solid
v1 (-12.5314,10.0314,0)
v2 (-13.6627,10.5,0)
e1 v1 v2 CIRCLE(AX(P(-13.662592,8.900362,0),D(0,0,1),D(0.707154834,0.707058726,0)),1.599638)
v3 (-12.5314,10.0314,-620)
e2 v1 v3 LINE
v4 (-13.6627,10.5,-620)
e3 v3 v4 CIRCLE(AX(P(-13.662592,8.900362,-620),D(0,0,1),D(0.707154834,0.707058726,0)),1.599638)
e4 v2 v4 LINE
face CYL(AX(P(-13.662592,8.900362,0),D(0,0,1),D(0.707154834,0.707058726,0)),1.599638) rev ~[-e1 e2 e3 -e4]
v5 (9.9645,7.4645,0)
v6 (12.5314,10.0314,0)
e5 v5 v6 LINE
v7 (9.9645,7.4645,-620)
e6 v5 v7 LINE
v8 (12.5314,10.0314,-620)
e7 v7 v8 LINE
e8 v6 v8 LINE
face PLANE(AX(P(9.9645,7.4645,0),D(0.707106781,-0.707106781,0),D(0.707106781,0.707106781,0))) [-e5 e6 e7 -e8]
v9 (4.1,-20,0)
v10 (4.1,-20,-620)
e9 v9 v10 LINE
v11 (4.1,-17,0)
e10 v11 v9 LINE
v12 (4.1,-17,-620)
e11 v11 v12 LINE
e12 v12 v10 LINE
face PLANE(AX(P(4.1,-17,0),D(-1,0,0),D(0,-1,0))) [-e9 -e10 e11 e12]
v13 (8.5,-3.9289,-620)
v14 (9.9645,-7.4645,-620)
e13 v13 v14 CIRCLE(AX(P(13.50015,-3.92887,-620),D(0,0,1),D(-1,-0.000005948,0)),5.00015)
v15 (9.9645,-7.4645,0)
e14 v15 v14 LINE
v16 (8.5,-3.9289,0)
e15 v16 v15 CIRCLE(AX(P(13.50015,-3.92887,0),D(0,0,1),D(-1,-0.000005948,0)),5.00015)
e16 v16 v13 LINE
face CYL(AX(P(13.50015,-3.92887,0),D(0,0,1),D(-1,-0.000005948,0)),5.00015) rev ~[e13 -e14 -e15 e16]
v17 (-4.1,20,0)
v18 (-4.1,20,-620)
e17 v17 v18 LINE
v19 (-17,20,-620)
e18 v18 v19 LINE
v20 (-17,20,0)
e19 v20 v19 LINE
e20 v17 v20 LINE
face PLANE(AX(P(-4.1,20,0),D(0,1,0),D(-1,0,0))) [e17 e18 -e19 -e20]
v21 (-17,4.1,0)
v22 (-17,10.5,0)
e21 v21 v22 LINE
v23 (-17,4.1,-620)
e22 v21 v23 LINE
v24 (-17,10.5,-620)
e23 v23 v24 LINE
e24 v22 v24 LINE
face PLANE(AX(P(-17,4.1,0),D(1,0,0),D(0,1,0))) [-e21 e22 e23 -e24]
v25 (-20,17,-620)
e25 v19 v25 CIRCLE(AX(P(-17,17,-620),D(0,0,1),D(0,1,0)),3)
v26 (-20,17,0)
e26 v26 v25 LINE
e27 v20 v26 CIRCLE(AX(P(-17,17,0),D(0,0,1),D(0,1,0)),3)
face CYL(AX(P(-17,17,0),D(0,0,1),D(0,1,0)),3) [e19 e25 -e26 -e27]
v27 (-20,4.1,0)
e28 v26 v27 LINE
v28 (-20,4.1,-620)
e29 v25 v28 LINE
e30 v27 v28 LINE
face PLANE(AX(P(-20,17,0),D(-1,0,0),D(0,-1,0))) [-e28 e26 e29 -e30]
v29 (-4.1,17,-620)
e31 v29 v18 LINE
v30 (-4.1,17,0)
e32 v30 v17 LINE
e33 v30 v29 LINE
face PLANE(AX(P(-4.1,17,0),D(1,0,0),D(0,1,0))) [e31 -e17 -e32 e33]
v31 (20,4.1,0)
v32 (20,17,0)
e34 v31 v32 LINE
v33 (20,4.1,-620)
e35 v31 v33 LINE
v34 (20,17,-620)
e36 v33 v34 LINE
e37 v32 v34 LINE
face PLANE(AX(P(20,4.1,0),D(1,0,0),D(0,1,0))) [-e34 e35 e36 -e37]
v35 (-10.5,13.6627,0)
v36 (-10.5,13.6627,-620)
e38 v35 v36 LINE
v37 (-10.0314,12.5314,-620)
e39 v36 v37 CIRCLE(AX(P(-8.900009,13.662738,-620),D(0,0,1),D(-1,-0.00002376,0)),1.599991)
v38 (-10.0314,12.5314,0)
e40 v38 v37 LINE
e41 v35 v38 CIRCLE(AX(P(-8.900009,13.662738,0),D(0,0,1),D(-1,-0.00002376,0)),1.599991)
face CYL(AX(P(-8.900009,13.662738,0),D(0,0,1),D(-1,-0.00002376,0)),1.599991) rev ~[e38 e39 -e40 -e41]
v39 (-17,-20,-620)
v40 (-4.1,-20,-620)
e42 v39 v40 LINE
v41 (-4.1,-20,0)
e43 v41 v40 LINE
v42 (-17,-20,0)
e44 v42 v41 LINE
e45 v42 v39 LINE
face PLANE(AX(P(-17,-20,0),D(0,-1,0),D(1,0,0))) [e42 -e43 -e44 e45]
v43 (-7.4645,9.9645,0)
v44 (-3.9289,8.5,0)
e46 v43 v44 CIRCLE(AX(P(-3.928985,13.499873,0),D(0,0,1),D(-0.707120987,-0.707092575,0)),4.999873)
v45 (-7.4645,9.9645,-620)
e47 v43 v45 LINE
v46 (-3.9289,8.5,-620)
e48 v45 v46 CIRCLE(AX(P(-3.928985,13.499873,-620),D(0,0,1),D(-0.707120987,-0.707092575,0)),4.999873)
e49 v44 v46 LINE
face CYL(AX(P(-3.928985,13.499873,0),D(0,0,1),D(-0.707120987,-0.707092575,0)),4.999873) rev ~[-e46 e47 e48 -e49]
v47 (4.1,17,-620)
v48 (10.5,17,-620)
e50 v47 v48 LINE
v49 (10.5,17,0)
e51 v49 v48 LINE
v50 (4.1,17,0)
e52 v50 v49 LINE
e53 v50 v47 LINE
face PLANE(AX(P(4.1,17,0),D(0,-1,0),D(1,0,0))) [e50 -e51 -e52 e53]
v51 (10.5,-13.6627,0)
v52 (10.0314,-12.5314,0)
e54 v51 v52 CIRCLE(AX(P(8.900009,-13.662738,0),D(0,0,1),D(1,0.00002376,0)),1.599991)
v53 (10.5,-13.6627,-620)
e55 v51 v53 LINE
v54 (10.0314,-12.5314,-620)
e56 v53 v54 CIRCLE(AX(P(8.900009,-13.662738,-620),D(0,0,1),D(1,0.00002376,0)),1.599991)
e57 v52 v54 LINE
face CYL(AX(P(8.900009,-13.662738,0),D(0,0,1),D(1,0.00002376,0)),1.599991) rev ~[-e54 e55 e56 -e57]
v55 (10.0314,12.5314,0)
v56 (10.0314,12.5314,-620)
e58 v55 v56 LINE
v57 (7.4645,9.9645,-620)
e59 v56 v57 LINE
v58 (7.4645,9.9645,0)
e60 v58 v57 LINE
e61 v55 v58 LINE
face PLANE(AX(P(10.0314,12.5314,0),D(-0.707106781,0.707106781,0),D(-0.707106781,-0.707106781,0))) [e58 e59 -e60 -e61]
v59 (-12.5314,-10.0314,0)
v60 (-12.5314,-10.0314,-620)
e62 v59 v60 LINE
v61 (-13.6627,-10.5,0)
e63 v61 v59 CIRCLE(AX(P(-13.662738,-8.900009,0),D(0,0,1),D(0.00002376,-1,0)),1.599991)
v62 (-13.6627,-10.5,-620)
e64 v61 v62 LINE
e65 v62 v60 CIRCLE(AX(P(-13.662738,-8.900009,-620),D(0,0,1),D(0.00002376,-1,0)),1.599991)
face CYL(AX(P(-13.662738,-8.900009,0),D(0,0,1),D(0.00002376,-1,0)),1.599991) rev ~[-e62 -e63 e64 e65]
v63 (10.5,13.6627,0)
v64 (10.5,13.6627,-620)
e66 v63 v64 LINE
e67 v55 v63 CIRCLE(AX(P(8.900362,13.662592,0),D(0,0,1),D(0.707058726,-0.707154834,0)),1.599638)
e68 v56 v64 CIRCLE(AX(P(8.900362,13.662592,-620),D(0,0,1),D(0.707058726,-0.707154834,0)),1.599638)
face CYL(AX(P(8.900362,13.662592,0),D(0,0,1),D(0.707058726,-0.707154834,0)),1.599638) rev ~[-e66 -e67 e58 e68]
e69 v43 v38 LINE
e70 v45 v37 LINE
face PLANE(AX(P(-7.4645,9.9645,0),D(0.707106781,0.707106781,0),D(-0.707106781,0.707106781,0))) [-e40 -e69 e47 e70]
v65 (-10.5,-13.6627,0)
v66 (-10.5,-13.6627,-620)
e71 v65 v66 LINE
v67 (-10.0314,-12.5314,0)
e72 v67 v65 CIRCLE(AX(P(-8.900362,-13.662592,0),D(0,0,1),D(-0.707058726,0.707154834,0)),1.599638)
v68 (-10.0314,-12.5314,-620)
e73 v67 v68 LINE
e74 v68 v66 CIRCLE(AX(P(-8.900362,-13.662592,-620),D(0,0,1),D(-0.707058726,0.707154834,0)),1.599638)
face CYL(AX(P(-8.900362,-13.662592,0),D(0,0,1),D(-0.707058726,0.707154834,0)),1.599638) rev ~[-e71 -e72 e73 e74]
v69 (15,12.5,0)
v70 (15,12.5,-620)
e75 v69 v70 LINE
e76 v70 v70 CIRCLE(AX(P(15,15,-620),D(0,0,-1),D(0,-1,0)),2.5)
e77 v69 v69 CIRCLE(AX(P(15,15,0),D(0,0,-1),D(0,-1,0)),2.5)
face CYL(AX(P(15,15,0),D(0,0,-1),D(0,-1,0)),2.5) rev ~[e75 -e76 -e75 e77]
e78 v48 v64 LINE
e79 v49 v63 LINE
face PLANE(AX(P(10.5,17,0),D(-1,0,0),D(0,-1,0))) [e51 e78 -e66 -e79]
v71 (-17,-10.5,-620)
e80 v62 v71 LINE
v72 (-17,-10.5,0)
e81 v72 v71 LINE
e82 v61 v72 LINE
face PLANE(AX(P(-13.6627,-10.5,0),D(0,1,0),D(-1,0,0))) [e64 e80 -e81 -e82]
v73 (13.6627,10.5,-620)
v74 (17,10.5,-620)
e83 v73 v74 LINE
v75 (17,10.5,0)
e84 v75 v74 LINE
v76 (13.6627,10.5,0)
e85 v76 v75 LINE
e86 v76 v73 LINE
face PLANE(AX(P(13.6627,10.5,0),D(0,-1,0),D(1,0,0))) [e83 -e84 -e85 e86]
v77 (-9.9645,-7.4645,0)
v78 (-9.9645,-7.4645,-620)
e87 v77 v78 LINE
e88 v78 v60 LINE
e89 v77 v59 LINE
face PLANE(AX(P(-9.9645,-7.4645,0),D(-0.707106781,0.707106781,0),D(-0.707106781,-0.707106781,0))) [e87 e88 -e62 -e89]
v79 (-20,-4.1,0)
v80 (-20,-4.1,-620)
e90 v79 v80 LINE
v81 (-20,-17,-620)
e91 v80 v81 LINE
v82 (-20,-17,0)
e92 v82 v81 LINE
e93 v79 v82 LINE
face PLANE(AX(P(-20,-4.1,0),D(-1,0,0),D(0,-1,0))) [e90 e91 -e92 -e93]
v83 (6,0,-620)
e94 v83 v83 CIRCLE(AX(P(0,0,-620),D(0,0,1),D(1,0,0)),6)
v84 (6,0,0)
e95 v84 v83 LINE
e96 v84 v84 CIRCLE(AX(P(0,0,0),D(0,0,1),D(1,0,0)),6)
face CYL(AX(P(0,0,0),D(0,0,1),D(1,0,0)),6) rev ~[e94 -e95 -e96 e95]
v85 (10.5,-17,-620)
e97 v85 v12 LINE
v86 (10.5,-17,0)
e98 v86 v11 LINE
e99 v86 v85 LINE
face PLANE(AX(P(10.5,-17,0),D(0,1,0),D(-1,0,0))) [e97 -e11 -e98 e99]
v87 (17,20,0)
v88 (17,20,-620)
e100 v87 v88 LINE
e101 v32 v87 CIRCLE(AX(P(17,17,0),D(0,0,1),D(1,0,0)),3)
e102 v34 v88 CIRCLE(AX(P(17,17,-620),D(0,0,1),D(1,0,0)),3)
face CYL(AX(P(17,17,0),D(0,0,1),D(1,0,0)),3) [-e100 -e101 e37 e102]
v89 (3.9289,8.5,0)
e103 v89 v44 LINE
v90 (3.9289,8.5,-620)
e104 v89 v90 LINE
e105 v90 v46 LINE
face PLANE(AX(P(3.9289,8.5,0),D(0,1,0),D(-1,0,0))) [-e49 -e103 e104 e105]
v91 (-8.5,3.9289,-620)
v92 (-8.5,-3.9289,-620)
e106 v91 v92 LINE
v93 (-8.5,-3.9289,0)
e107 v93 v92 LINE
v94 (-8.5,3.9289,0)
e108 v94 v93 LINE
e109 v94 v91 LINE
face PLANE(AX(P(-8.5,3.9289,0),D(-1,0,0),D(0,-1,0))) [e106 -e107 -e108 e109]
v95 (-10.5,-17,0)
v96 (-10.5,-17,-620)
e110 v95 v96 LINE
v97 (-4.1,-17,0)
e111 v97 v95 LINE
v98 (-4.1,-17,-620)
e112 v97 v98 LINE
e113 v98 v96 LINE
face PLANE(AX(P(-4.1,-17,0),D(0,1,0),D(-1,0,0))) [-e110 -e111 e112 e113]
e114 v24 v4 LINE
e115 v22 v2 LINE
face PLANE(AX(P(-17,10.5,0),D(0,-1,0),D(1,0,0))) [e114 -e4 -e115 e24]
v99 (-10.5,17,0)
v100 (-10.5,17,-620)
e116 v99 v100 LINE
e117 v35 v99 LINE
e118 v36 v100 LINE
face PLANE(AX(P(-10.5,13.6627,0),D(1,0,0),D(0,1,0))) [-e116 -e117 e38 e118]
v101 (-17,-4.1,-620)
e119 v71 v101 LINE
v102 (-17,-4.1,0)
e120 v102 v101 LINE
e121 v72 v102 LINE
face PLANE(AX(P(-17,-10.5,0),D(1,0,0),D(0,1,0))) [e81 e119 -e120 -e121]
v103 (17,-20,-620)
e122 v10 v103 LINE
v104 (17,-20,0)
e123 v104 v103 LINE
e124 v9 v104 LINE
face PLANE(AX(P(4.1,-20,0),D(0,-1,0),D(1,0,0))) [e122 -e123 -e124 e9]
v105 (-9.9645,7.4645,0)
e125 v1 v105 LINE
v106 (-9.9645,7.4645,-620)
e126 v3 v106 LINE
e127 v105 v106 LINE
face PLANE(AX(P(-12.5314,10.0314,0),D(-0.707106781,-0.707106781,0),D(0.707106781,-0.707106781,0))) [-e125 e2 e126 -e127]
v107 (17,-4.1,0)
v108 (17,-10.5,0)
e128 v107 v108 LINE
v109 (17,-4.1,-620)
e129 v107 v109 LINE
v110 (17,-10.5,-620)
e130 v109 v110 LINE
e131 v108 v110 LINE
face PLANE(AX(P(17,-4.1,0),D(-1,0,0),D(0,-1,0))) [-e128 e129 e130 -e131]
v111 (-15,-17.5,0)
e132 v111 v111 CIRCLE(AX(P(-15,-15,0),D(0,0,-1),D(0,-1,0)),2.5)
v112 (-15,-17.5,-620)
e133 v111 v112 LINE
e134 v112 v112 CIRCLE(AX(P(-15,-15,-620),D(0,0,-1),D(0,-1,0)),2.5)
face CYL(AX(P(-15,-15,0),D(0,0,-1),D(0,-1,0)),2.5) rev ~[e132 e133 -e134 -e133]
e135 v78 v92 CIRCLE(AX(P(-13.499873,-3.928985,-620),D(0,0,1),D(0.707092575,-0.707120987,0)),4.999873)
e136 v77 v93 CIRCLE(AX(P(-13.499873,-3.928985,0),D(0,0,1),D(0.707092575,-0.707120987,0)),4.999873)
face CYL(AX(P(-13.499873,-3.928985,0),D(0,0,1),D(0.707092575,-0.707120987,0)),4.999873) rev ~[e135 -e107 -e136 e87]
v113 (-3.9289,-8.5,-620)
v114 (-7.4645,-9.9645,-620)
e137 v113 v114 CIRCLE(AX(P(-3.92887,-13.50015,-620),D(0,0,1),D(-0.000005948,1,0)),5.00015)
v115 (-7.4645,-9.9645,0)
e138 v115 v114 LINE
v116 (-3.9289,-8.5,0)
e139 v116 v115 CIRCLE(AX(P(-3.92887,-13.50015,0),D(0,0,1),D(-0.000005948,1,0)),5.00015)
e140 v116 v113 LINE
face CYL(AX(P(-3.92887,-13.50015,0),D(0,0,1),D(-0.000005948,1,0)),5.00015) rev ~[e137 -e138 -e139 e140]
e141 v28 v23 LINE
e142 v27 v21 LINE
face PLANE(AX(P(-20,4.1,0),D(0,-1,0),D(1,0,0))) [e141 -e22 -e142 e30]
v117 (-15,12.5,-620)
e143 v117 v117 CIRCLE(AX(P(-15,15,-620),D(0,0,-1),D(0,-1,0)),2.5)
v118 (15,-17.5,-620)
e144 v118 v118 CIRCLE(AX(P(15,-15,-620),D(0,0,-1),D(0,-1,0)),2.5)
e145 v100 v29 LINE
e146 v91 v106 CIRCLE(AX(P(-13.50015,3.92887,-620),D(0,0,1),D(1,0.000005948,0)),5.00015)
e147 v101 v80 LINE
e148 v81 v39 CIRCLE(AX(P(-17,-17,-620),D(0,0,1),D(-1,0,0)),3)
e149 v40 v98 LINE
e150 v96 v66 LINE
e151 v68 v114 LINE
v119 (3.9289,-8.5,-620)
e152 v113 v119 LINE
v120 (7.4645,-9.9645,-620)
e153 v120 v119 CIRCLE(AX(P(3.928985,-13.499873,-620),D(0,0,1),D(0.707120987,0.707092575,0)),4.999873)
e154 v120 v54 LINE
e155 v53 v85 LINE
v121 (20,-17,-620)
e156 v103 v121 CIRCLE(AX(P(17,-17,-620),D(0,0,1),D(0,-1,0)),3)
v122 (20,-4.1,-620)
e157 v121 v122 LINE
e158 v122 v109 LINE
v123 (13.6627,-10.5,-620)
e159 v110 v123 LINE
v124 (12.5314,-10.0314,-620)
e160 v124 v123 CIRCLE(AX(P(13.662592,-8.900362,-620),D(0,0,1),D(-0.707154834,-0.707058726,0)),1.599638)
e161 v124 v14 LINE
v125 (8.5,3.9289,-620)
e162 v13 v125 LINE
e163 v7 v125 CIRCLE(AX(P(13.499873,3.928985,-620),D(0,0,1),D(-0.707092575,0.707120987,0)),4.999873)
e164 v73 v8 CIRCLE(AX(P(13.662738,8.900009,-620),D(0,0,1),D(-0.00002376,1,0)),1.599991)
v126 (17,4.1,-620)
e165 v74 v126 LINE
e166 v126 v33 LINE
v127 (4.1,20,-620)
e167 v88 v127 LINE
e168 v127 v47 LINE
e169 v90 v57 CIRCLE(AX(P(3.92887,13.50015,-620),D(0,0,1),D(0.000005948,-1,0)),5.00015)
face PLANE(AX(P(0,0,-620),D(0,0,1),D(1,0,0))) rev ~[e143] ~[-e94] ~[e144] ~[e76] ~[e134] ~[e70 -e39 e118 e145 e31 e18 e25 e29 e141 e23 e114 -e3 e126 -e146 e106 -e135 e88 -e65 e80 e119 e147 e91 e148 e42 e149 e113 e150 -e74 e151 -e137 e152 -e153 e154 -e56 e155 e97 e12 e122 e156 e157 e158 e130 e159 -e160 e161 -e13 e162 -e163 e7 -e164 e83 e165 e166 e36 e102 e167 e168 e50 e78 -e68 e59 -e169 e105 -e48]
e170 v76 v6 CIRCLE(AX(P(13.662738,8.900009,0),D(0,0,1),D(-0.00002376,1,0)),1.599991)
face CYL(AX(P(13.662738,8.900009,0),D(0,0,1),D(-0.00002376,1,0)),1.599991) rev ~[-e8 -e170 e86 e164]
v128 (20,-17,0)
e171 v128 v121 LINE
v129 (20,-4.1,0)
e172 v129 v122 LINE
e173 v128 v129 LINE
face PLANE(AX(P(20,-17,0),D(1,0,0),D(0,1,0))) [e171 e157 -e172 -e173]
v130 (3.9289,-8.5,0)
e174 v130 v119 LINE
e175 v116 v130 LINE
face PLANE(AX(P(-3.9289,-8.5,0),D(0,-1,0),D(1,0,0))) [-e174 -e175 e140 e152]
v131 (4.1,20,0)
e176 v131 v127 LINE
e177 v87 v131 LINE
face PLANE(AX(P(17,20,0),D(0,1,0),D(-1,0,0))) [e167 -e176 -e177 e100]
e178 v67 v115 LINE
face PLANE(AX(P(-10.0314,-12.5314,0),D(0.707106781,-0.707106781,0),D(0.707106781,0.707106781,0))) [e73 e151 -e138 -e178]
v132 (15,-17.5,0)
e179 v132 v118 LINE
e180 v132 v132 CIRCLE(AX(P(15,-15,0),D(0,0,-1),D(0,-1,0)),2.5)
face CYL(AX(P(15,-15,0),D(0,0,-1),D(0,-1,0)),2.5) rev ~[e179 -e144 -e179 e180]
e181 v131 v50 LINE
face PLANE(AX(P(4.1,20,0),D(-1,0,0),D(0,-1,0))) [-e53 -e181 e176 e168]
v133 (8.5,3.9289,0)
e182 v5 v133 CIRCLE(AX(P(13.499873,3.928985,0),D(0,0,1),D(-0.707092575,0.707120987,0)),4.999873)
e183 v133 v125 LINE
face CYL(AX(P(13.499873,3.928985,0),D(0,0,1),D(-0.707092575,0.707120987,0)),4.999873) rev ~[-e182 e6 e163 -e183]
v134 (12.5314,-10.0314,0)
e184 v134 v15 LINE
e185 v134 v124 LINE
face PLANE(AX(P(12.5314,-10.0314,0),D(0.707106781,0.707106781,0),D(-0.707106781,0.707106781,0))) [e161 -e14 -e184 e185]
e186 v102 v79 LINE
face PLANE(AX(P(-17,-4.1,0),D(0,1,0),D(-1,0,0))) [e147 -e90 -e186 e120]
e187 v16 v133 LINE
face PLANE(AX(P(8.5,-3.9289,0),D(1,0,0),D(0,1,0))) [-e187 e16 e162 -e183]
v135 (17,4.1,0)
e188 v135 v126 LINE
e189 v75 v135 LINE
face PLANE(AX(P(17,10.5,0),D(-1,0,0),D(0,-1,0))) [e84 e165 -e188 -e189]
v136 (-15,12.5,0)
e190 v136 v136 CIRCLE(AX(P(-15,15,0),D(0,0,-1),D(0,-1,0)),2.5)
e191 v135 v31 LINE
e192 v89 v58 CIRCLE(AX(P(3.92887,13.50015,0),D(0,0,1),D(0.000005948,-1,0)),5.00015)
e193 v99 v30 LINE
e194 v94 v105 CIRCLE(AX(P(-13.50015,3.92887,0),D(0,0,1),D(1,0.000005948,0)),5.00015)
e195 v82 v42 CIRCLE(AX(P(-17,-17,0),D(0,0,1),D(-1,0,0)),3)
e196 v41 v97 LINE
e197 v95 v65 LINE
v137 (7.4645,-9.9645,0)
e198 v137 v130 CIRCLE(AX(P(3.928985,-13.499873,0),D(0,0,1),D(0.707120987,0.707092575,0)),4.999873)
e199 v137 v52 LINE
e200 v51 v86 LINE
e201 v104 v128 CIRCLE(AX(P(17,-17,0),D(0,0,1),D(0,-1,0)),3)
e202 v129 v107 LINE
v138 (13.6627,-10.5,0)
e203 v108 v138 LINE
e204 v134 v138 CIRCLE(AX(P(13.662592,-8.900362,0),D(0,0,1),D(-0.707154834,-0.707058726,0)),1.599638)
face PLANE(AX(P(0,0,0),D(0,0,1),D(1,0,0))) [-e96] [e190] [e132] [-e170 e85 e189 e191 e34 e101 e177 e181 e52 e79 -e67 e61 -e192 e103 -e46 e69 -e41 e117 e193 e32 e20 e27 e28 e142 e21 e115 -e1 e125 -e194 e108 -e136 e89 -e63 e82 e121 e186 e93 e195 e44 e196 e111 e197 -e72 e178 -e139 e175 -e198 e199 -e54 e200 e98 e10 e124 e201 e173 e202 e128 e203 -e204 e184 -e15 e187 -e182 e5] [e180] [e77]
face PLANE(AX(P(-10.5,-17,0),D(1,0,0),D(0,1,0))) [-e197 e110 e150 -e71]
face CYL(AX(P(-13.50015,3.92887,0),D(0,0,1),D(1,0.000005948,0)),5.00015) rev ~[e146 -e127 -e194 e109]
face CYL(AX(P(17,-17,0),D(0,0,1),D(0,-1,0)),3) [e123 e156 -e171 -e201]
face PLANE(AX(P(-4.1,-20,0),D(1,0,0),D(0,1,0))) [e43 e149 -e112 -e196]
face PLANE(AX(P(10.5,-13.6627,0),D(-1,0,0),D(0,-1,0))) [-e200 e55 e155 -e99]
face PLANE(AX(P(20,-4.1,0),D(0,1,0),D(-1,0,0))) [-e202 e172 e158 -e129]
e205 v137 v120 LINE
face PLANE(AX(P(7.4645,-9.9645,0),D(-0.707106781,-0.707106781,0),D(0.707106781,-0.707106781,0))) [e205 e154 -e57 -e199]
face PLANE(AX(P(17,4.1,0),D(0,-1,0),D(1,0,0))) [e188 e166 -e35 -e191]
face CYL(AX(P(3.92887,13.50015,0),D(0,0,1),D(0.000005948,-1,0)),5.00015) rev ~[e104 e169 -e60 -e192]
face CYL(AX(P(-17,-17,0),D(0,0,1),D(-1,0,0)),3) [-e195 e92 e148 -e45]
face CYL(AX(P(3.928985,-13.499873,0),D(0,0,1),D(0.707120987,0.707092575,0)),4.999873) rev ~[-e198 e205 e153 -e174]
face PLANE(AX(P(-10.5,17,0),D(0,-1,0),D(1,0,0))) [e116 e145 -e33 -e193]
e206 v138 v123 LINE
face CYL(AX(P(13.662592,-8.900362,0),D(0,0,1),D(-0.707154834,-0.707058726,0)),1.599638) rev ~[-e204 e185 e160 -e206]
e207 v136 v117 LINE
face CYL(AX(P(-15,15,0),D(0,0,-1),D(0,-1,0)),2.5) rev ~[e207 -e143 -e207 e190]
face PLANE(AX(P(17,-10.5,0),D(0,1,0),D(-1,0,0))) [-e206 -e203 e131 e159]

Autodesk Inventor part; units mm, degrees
sketch "Skizze_1" plane through (0, 0, 0) normal (0, 0, 1) x (1, 0, 0)
  arc A0 (-20, -17) -> (-17, -20) centre (-17, -17) ccw
  line L0 (-17, -20) -> (-4.1, -20)
  line L1 (-4.1, -20) -> (-4.1, -17)
  line L2 (-4.1, -17) -> (-10.5, -17)
  line L3 (-10.5, -17) -> (-10.5, -13.6627)
  arc A1 (-10.0314, -12.5314) -> (-10.5, -13.6627) centre (-8.9002, -13.6627) ccw
  line L4 (-10.0314, -12.5314) -> (-7.4645, -9.9645)
  arc A2 (-3.9289, -8.5) -> (-7.4645, -9.9645) centre (-3.9289, -13.5) ccw
  line L5 (-3.9289, -8.5) -> (3.9289, -8.5)
  arc A3 (7.4645, -9.9645) -> (3.9289, -8.5) centre (3.9289, -13.5) ccw
  line L6 (7.4645, -9.9645) -> (10.0314, -12.5314)
  arc A4 (10.5, -13.6627) -> (10.0314, -12.5314) centre (8.9002, -13.6627) ccw
  line L7 (10.5, -13.6627) -> (10.5, -17)
  line L8 (10.5, -17) -> (4.1, -17)
  line L9 (4.1, -17) -> (4.1, -20)
  line L10 (4.1, -20) -> (17, -20)
  arc A5 (17, -20) -> (20, -17) centre (17, -17) ccw
  line L11 (20, -17) -> (20, -4.1)
  line L12 (20, -4.1) -> (17, -4.1)
  line L13 (17, -4.1) -> (17, -10.5)
  line L14 (17, -10.5) -> (13.6627, -10.5)
  arc A6 (12.5314, -10.0314) -> (13.6627, -10.5) centre (13.6627, -8.9002) ccw
  line L15 (12.5314, -10.0314) -> (9.9645, -7.4645)
  arc A7 (8.5, -3.9289) -> (9.9645, -7.4645) centre (13.5, -3.9289) ccw
  line L16 (8.5, -3.9289) -> (8.5, 3.9289)
  arc A8 (9.9645, 7.4645) -> (8.5, 3.9289) centre (13.5, 3.9289) ccw
  line L17 (9.9645, 7.4645) -> (12.5314, 10.0314)
  arc A9 (13.6627, 10.5) -> (12.5314, 10.0314) centre (13.6627, 8.9002) ccw
  line L18 (13.6627, 10.5) -> (17, 10.5)
  line L19 (17, 10.5) -> (17, 4.1)
  line L20 (17, 4.1) -> (20, 4.1)
  line L21 (20, 4.1) -> (20, 17)
  arc A10 (20, 17) -> (17, 20) centre (17, 17) ccw
  line L22 (17, 20) -> (4.1, 20)
  line L23 (4.1, 20) -> (4.1, 17)
  line L24 (4.1, 17) -> (10.5, 17)
  line L25 (10.5, 17) -> (10.5, 13.6627)
  arc A11 (10.0314, 12.5314) -> (10.5, 13.6627) centre (8.9002, 13.6627) ccw
  line L26 (10.0314, 12.5314) -> (7.4645, 9.9645)
  arc A12 (3.9289, 8.5) -> (7.4645, 9.9645) centre (3.9289, 13.5) ccw
  line L27 (3.9289, 8.5) -> (-3.9289, 8.5)
  arc A13 (-7.4645, 9.9645) -> (-3.9289, 8.5) centre (-3.9289, 13.5) ccw
  line L28 (-7.4645, 9.9645) -> (-10.0314, 12.5314)
  arc A14 (-10.5, 13.6627) -> (-10.0314, 12.5314) centre (-8.9002, 13.6627) ccw
  line L29 (-10.5, 13.6627) -> (-10.5, 17)
  line L30 (-10.5, 17) -> (-4.1, 17)
  line L31 (-4.1, 17) -> (-4.1, 20)
  line L32 (-4.1, 20) -> (-17, 20)
  arc A15 (-17, 20) -> (-20, 17) centre (-17, 17) ccw
  line L33 (-20, 17) -> (-20, 4.1)
  line L34 (-20, 4.1) -> (-17, 4.1)
  line L35 (-17, 4.1) -> (-17, 10.5)
  line L36 (-17, 10.5) -> (-13.6627, 10.5)
  arc A16 (-12.5314, 10.0314) -> (-13.6627, 10.5) centre (-13.6627, 8.9002) ccw
  line L37 (-12.5314, 10.0314) -> (-9.9645, 7.4645)
  arc A17 (-8.5, 3.9289) -> (-9.9645, 7.4645) centre (-13.5, 3.9289) ccw
  line L38 (-8.5, 3.9289) -> (-8.5, -3.9289)
  arc A18 (-9.9645, -7.4645) -> (-8.5, -3.9289) centre (-13.5, -3.9289) ccw
  line L39 (-9.9645, -7.4645) -> (-12.5314, -10.0314)
  arc A19 (-13.6627, -10.5) -> (-12.5314, -10.0314) centre (-13.6627, -8.9002) ccw
  line L40 (-13.6627, -10.5) -> (-17, -10.5)
  line L41 (-17, -10.5) -> (-17, -4.1)
  line L42 (-17, -4.1) -> (-20, -4.1)
  line L43 (-20, -4.1) -> (-20, -17)
  circle A20 centre (0, 0) radius 6
extrude "Extrusion1" add sketch "Skizze_1" against normal blind 620
sketch "Sketch2" plane through (0, 0, 0) normal (0, 0, 1) x (1, 0, 0)
  point P0 (-15, -15)
hole "Drilling 1" at (-15, -15, 0) direction (0, 0, -1) diameter 5 depth 6000
sketch "Sketch3" plane through (0, 0, 0) normal (0, 0, 1) x (1, 0, 0)
  point P0 (15, -15)
hole "Drilling 2" at (15, -15, 0) direction (0, 0, -1) diameter 5 depth 6000
sketch "Sketch4" plane through (0, 0, 0) normal (0, 0, 1) x (1, 0, 0)
  point P0 (15, 15)
hole "Drilling 3" at (15, 15, 0) direction (0, 0, -1) diameter 5 depth 6000
sketch "Sketch5" plane through (0, 0, 0) normal (0, 0, 1) x (1, 0, 0)
  point P0 (-15, 15)
hole "Drilling 4" at (-15, 15, 0) direction (0, 0, -1) diameter 5 depth 6000
ref_plane "side_4d_XY" through (-20, 0, -310) normal (-1, 0, 0) x (0, 1, 0)
ref_plane "side_4d_YZ" through (-20, 0, -310) normal (0, 1, 0) x (0, 0, -1)
ref_plane "side_4d_ZX" through (-20, 0, -310) normal (0, 0, -1) x (-1, 0, 0)
ref_plane "side_1a_XY" through (0, 20, -310) normal (0, 1, 0) x (1, 0, 0)
ref_plane "side_1a_YZ" through (0, 20, -310) normal (1, 0, 0) x (0, 0, -1)
ref_plane "side_1a_ZX" through (0, 20, -310) normal (0, 0, -1) x (0, 1, 0)
ref_plane "side_2b_XY" through (20, 0, -310) normal (1, 0, 0) x (0, -1, 0)
ref_plane "side_2b_YZ" through (20, 0, -310) normal (0, -1, 0) x (0, 0, -1)
ref_plane "side_2b_ZX" through (20, 0, -310) normal (0, 0, -1) x (1, 0, 0)
ref_plane "side_3c_XY" through (0, -20, -310) normal (0, -1, 0) x (-1, 0, 0)
ref_plane "side_3c_YZ" through (0, -20, -310) normal (-1, 0, 0) x (0, 0, -1)
ref_plane "side_3c_ZX" through (0, -20, -310) normal (0, 0, -1) x (0, -1, 0)
ref_plane "end_XY" through (0, 0, -620) normal (0, 0, -1) x (1, 0, 0)
ref_plane "end_YZ" through (0, 0, -620) normal (1, 0, 0) x (0, -1, 0)
ref_plane "end_ZX" through (0, 0, -620) normal (0, -1, 0) x (0, 0, -1)
ref_plane "start_XY" through (0, 0, 0) normal (0, 0, 1) x (1, 0, 0)
ref_plane "start_YZ" through (0, 0, 0) normal (1, 0, 0) x (0, 1, 0)
ref_plane "start_ZX" through (0, 0, 0) normal (0, 1, 0) x (0, 0, 1)
properties part number "MayTec 1.11.040040.43S_Profile 40x40, 4E, S_620_Detail_(0;0,0,0)"
